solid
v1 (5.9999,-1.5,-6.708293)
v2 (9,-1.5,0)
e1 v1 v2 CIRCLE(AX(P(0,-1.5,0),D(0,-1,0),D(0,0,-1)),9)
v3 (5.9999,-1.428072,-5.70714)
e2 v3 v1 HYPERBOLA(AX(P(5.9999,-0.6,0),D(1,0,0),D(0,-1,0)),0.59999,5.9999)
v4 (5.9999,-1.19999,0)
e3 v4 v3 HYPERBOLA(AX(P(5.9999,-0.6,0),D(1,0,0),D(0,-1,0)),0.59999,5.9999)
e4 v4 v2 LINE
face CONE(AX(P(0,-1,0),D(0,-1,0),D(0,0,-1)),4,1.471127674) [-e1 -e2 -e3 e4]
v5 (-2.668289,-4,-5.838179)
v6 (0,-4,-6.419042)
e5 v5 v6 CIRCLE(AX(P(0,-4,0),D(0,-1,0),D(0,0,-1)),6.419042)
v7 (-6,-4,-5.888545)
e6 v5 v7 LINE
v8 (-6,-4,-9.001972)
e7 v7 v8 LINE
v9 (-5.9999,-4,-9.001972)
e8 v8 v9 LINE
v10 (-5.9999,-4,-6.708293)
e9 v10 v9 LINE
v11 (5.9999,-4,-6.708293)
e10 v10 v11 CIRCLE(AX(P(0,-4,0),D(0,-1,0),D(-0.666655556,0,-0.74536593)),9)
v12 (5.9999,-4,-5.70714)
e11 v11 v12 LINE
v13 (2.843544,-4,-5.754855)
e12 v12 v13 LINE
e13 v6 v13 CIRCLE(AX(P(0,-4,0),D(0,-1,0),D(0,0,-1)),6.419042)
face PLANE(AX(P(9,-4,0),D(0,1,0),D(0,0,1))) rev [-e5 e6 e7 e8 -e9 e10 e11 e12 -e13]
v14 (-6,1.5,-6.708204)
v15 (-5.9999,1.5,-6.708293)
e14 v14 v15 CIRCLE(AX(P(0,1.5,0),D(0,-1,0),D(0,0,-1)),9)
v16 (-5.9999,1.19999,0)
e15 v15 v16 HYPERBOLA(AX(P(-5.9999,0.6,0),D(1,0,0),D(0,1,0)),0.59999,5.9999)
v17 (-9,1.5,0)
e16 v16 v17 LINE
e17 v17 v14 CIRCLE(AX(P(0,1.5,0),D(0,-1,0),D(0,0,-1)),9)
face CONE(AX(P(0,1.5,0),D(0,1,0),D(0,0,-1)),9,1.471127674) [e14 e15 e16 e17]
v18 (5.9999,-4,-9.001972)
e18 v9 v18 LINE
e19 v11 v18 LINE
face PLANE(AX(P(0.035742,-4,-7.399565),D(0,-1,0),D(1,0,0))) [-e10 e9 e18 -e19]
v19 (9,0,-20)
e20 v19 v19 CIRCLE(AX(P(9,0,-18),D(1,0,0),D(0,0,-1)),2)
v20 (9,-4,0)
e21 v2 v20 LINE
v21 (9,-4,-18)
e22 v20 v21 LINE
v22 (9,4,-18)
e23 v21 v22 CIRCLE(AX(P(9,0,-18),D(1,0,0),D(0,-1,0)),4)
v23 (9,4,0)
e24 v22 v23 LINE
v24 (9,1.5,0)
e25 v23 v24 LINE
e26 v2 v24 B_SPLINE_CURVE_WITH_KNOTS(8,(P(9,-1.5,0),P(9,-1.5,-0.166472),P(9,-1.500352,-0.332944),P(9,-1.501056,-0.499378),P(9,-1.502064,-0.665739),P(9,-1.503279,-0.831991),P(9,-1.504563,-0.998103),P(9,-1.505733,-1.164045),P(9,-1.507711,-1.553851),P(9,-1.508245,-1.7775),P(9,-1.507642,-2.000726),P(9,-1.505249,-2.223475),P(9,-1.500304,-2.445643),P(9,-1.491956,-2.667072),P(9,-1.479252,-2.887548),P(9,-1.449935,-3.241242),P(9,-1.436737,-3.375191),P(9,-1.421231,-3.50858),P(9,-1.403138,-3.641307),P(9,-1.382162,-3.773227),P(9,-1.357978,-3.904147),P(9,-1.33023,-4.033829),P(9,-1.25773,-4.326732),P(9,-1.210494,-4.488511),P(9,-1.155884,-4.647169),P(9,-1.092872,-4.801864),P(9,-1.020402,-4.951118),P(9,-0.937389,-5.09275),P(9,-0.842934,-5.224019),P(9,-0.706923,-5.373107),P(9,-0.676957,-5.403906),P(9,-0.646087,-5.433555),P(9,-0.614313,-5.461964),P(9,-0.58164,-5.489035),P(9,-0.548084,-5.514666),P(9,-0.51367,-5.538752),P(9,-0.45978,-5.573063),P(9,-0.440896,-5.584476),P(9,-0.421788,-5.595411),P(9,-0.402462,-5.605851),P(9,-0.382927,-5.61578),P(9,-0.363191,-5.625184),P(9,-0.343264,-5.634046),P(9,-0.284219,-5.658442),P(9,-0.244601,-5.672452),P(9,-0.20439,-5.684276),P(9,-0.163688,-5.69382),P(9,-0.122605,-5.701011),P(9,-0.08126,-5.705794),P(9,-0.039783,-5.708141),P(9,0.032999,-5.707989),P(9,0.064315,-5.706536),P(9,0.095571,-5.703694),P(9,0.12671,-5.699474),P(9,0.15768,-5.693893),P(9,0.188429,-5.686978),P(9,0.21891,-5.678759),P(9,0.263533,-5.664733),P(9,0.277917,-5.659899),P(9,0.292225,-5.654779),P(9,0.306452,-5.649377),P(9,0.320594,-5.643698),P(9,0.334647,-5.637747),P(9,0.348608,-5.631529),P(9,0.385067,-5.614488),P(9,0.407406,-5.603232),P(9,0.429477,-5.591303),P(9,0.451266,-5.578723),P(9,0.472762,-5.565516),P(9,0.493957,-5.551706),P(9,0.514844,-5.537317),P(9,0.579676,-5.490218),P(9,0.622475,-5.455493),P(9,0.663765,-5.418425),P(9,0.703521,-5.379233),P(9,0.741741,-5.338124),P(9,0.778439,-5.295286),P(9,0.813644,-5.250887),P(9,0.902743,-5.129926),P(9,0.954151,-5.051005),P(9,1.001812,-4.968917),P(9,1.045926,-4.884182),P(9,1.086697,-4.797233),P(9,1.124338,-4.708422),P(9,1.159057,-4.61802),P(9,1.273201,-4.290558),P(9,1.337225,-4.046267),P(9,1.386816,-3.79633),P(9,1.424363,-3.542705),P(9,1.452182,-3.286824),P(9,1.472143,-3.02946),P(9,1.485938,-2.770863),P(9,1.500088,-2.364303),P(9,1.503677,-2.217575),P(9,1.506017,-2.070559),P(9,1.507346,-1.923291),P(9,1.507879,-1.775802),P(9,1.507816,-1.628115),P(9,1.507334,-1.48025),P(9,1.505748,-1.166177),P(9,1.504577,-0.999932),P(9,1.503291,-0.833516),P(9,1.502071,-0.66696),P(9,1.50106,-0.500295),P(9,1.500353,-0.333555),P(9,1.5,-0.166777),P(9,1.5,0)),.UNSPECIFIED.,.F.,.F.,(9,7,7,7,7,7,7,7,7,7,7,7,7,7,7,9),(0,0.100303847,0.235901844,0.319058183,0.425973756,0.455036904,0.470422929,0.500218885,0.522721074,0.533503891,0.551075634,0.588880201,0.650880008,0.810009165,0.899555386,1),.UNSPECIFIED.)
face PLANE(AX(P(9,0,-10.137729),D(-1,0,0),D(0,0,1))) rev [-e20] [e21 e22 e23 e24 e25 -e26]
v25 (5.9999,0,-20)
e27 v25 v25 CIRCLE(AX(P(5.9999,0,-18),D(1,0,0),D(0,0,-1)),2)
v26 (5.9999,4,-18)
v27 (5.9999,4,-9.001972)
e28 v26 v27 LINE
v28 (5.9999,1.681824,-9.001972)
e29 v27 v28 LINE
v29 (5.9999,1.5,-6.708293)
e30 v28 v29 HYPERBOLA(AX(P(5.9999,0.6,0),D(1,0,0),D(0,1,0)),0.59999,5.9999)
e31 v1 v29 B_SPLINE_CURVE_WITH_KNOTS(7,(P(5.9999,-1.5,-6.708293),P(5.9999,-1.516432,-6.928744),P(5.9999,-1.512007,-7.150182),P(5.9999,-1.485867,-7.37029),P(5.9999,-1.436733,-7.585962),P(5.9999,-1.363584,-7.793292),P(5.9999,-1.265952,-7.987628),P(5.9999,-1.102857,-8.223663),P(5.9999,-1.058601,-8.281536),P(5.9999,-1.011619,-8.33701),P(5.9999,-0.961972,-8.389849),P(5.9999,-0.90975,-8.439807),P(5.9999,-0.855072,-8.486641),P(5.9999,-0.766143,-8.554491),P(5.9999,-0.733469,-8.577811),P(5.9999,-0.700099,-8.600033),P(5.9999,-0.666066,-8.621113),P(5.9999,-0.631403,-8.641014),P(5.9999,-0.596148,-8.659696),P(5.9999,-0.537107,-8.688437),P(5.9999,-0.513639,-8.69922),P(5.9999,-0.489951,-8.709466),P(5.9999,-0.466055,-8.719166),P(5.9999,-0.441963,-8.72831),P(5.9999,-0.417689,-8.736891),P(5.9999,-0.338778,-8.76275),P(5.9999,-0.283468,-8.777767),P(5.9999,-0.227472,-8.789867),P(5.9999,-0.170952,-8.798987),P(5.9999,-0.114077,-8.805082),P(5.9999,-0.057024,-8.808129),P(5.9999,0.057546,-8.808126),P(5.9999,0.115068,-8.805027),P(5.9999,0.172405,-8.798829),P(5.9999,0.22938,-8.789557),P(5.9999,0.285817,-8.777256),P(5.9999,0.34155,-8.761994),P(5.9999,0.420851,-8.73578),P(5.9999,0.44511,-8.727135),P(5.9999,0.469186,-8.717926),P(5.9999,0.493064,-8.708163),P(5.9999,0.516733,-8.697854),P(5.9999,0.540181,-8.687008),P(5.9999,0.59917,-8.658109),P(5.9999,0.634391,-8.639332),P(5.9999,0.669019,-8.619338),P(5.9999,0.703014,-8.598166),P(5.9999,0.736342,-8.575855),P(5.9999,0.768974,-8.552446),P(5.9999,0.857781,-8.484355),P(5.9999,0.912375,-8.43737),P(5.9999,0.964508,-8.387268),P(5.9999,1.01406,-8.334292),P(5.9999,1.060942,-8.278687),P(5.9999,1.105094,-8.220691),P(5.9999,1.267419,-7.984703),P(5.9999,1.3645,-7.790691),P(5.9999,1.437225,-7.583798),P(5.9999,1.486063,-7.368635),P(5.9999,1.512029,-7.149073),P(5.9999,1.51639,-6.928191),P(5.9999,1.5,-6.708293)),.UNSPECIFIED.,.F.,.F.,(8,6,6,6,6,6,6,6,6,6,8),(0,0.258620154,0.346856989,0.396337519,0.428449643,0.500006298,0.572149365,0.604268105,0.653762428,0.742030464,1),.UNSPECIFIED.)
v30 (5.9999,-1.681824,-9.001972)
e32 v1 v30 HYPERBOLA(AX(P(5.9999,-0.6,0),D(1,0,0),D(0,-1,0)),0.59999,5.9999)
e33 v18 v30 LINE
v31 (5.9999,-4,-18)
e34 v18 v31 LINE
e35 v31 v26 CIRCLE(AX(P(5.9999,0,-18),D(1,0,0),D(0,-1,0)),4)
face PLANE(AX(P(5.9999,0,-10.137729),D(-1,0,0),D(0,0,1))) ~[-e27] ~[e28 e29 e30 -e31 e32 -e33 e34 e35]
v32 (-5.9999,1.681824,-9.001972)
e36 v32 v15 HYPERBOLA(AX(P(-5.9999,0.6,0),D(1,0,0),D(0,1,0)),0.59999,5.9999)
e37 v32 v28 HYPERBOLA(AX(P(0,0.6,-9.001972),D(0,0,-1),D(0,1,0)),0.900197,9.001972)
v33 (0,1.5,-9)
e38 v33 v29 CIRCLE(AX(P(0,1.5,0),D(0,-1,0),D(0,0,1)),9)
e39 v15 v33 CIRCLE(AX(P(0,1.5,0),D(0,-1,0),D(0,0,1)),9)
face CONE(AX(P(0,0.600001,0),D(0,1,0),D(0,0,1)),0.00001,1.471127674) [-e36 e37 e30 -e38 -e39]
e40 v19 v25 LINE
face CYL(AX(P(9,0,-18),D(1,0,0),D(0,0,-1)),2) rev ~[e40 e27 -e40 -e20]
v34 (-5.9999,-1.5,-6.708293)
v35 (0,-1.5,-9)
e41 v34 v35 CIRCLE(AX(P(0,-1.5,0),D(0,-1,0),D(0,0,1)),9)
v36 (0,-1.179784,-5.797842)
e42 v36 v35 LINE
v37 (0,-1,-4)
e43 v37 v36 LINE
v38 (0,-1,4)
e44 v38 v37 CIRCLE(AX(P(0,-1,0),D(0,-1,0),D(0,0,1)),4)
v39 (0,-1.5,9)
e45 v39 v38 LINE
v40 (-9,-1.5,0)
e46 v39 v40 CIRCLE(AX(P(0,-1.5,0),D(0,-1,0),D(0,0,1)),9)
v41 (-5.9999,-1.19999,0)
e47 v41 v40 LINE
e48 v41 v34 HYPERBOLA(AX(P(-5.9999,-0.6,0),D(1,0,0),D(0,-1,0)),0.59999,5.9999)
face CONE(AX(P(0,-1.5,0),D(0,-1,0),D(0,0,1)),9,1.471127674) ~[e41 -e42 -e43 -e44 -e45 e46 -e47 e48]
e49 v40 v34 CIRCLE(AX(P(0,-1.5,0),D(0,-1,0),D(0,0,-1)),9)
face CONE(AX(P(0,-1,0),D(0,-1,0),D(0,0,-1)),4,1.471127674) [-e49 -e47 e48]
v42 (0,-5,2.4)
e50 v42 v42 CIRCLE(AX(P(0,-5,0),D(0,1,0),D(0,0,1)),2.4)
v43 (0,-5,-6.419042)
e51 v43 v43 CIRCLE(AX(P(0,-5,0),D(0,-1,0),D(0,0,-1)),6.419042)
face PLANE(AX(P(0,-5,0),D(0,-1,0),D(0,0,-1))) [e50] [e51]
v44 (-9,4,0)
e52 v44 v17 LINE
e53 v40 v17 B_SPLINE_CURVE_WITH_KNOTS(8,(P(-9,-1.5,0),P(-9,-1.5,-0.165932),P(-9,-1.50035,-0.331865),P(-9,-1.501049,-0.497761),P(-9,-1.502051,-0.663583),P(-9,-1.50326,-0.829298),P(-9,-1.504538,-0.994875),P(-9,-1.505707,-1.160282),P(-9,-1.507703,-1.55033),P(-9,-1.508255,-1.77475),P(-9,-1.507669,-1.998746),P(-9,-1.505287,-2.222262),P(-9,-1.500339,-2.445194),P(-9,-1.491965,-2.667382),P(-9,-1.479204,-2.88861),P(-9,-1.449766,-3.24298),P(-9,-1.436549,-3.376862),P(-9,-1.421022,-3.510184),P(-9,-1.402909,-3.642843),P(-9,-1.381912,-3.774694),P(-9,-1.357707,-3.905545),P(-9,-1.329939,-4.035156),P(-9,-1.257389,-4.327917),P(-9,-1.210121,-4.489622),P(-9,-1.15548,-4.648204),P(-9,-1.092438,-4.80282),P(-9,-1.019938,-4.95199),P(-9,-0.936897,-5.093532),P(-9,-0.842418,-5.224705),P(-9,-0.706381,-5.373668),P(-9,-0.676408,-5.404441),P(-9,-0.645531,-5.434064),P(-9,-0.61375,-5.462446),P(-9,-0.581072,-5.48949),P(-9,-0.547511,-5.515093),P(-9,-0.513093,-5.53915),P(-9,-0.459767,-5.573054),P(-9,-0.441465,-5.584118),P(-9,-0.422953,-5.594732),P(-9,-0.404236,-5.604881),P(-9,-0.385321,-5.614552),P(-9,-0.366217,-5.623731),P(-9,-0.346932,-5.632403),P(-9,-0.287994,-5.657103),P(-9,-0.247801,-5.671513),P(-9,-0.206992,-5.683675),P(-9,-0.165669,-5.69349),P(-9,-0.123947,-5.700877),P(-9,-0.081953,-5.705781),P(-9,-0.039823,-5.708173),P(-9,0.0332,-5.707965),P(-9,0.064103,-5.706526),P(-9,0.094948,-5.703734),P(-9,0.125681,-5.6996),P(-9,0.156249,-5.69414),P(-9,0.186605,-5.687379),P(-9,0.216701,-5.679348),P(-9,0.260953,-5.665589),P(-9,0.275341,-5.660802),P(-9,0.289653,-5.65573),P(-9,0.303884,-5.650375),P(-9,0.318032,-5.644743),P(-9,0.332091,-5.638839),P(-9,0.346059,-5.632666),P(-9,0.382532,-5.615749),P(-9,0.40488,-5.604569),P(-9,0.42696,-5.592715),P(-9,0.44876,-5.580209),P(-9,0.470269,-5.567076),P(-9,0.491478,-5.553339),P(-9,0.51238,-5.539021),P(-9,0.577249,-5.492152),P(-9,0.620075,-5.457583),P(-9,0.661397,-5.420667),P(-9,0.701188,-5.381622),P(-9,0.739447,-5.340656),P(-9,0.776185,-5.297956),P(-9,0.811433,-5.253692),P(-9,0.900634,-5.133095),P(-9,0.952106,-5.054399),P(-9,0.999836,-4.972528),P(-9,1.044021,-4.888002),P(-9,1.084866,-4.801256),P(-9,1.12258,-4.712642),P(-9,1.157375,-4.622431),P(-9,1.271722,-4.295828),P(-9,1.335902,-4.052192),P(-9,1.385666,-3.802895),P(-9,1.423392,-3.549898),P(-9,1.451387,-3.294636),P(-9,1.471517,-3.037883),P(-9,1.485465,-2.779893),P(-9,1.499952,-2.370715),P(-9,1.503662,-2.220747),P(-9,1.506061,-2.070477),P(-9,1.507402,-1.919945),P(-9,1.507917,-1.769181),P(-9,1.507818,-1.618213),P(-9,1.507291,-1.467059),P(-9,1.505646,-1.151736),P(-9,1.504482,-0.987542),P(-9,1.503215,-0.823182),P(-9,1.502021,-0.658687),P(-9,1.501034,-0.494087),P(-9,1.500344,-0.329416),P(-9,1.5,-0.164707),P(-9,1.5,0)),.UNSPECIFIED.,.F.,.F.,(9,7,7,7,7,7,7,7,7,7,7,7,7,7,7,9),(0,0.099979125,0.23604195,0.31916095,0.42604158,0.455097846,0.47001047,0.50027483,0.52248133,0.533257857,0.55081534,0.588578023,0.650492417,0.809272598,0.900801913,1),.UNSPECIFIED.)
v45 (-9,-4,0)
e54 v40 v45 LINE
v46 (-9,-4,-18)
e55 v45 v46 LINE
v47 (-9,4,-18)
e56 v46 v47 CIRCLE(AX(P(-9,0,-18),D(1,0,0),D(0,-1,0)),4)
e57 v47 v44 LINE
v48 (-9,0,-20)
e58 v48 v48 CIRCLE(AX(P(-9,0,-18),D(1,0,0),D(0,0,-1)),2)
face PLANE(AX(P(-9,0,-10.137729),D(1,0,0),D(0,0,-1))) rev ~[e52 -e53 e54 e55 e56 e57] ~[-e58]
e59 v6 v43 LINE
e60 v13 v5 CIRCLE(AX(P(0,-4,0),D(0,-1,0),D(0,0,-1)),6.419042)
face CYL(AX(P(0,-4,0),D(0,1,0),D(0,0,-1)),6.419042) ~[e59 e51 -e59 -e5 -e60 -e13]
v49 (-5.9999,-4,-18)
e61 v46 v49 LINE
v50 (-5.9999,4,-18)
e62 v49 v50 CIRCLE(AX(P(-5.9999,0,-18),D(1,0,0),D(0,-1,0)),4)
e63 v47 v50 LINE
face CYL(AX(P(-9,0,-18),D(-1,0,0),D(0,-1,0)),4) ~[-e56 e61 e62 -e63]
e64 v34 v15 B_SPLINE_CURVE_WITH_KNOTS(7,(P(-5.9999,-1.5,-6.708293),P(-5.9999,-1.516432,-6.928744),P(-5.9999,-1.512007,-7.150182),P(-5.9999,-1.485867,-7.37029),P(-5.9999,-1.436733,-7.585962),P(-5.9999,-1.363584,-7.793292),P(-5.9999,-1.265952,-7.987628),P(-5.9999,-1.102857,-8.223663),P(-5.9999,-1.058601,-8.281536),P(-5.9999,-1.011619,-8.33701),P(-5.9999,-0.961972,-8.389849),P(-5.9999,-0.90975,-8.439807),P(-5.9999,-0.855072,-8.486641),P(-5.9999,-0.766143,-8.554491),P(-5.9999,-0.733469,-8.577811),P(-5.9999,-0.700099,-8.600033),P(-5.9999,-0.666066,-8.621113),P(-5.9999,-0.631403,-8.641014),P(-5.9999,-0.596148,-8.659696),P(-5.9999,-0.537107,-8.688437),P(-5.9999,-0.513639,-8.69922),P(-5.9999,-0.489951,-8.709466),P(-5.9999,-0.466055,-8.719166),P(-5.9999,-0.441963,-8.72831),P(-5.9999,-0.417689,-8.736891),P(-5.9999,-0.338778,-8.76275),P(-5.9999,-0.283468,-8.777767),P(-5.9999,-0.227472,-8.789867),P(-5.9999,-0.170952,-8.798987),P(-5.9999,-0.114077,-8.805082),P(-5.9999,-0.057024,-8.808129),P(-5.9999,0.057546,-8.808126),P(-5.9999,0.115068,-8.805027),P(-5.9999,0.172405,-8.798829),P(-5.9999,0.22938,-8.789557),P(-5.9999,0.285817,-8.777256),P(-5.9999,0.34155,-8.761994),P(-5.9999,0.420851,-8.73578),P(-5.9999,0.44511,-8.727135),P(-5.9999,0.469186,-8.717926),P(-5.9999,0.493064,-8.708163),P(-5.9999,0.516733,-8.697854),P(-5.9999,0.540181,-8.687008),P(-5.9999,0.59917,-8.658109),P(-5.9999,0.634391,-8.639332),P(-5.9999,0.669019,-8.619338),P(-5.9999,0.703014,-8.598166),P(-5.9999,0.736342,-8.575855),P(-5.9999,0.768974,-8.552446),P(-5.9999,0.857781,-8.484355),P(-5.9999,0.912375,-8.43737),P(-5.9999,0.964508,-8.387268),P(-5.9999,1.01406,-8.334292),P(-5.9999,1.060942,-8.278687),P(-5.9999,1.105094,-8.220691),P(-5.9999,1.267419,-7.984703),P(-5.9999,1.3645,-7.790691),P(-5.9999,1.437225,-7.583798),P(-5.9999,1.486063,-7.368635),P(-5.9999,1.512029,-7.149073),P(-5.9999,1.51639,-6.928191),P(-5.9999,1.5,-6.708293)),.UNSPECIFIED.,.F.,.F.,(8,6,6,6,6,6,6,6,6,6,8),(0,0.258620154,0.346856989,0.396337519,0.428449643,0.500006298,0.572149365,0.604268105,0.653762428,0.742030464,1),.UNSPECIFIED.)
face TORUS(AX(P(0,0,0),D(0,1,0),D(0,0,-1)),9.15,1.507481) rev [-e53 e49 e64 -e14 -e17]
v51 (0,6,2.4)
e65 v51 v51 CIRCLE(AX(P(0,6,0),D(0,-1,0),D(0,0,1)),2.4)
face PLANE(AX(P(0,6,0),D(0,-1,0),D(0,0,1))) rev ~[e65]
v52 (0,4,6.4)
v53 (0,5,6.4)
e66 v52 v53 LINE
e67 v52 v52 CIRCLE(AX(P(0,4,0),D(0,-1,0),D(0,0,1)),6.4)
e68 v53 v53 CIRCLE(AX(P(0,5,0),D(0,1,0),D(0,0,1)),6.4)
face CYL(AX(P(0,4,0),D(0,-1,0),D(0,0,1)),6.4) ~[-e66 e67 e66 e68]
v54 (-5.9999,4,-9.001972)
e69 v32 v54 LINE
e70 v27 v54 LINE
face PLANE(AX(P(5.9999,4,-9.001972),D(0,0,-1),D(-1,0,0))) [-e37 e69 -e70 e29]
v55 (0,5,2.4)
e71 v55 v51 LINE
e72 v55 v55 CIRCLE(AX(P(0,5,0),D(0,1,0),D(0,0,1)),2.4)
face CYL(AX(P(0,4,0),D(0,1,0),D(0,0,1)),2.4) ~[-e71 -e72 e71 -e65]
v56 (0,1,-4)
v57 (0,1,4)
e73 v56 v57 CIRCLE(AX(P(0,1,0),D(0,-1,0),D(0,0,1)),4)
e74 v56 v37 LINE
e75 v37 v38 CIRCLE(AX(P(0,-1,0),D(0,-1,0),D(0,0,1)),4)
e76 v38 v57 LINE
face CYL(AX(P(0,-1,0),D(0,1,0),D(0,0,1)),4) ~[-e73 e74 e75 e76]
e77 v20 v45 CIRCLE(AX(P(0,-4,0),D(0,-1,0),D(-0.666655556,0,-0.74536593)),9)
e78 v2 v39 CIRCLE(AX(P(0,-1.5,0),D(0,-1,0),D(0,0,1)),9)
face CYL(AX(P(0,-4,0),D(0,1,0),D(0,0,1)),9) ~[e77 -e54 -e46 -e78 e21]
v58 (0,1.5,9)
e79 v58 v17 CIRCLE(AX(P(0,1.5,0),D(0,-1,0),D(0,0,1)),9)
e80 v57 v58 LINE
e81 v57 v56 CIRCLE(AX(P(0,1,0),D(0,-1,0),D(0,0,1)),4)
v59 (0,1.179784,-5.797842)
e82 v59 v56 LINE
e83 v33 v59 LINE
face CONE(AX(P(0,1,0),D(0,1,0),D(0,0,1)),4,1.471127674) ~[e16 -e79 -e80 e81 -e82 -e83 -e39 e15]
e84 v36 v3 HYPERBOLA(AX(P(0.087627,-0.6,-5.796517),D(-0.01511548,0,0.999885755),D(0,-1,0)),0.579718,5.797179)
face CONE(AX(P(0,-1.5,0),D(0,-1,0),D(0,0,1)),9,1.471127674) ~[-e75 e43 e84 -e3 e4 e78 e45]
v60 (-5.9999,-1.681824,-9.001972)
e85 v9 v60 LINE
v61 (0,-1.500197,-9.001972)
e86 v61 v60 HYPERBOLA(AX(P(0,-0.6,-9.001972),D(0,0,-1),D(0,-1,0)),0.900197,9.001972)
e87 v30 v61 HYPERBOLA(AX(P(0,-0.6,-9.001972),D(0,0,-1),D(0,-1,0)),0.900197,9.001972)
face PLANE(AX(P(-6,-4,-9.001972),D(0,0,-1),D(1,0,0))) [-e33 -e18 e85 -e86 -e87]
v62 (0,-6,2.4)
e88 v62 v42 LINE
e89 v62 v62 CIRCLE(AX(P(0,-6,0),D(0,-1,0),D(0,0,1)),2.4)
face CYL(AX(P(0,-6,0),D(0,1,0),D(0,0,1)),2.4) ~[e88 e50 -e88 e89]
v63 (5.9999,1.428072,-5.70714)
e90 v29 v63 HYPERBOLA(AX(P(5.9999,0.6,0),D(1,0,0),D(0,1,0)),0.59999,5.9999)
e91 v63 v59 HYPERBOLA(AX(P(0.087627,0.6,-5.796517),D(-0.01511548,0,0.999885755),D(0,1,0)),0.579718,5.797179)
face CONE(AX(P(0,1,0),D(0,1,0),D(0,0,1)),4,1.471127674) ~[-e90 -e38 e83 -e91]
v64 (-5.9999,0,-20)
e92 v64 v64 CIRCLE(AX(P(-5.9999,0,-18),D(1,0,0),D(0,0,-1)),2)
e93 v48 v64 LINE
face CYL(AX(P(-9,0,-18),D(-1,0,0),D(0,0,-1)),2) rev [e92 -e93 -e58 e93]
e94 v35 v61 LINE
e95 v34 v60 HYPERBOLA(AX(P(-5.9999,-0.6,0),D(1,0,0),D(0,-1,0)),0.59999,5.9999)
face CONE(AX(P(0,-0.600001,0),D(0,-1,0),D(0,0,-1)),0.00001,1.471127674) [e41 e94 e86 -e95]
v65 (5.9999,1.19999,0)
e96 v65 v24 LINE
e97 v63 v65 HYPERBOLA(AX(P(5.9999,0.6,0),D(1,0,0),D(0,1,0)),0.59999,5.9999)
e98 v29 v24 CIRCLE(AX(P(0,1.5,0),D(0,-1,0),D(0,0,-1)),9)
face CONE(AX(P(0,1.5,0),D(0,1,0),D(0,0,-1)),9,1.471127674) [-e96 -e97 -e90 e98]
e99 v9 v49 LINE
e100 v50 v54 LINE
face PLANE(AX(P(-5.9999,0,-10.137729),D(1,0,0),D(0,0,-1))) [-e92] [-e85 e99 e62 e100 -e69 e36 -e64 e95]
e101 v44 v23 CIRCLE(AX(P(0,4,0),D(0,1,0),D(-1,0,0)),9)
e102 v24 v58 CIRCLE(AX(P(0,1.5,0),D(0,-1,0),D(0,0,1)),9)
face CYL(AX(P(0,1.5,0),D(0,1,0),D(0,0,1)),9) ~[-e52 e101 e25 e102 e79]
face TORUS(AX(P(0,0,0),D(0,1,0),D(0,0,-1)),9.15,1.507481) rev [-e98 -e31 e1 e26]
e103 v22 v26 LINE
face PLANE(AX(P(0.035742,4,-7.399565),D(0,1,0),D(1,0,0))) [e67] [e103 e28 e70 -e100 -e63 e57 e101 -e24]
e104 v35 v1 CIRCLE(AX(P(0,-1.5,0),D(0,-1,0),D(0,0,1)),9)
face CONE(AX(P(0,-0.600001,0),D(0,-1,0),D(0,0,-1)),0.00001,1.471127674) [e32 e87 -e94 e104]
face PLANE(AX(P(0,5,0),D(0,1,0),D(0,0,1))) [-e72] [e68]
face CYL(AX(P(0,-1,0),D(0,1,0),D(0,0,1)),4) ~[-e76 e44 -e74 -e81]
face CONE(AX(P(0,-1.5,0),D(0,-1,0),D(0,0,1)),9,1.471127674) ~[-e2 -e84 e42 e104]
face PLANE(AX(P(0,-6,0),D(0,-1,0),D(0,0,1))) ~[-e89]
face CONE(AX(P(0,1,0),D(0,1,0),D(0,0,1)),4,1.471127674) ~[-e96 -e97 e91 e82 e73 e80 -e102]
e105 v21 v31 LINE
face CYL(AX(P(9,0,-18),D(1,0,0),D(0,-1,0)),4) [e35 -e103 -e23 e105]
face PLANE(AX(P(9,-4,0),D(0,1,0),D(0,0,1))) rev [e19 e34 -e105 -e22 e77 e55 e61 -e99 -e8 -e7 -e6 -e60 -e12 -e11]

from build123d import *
from build123d.topology import SkipClean

# Parameters (mm, degrees)
SKETCH4_R            = 6.4
SKETCH4_R_2          = 2
BOSS_EXTRUDE3_DEPTH  = 1
BOSS_EXTRUDE6_START  = -3
SKETCH5_R            = 2
BOSS_EXTRUDE6_DEPTH  = 3.0001
BOSS_EXTRUDE22_REACH = 27.788
SKETCH9_R            = 6.419042014
BOSS_EXTRUDE9_DEPTH  = 1
BOSS_EXTRUDE23_REACH = 27.788


with BuildPart() as part:
    # Sketch3 → Revolve1 (revolve)
    with BuildSketch(Plane(origin=(0, 0, 0), x_dir=(0, 0, -1), z_dir=(1, 0, 0))):
        Polygon((-9, -1.5), (-4, -1), (-4, 1), (-9, 1.5), (-9, 4), (-2.4, 4), (-2.4, 6), (0, 6), (0, -6), (-2.4, -6), (-2.4, -4), (-9, -4), align=None)
    revolve(axis=Axis((0, 6, 0), (0, -1, 0)))



with BuildPart() as body_2:
    # Sketch4 → Boss-Extrude3 (new body)
    with BuildSketch(Plane(origin=(0, 4, 0), x_dir=(1, 0, 0), z_dir=(0, 1, 0))):
        with Locations(Location((0, 0, 0), (0, 0, 270))):
            Circle(SKETCH4_R)
        with Locations(Location((0, 0, 0), (0, 0, 270))):
            Circle(SKETCH4_R_2, mode=Mode.SUBTRACT)
    extrude(amount=BOSS_EXTRUDE3_DEPTH)


with BuildPart() as part_1:
    add(part.part)

    add(body_2.part)  # Boss-Extrude6 merges body 2
    # Sketch5 → Boss-Extrude6 (add)
    with BuildSketch(Plane(origin=(-6, 0, 3.854187267), x_dir=(0, 0, -1), z_dir=(1, 0, 0)).offset(BOSS_EXTRUDE6_START)):
        with BuildLine():
            ThreePointArc((21.854187267, -4), (25.854187267, 0), (21.854187267, 4))
            Line((21.854187267, 4), (3.854187267, 4))
            Line((3.854187267, 4), (3.854187267, -4))
            Line((3.854187267, -4), (21.854187267, -4))
        make_face()
        with Locations((21.854187267, 0)):
            Circle(SKETCH5_R, mode=Mode.SUBTRACT)
    boss_extrude6 = extrude(amount=BOSS_EXTRUDE6_DEPTH)

    # Mirror1: Boss-Extrude6 across plane
    add(boss_extrude6.mirror(Plane(origin=(0, 0, 0), x_dir=(0, 0, 1), z_dir=(1, 0, 0))))

    # Boss-Extrude22: up to this cone (the profile starts inside it)
    with SkipClean():  # the faces are left unmerged after this step: merging them gives an invalid solid
        boss_extrude22_end = Plane(origin=(0, -4, 0), z_dir=(0, -1, 0)).offset(-3.399999) * Cone(1e-05, 656.88, 65.687999, align=(Align.CENTER, Align.CENTER, Align.MIN), mode=Mode.PRIVATE)
        # Sketch18 → Boss-Extrude22 (add, up to the surface)
        with BuildSketch(Plane.XZ.offset(4), mode=Mode.PRIVATE) as boss_extrude22_sk1:
            Polygon((-6, -9.001972309), (5.9999, -9.001972309), (5.9999, -5.707140078), (-6, -5.888545051), align=None)
        boss_extrude22_tool1 = extrude(boss_extrude22_sk1.sketch, amount=-BOSS_EXTRUDE22_REACH, mode=Mode.PRIVATE) & boss_extrude22_end
        add(boss_extrude22_tool1.solids().sort_by_distance((0.056566, -4, -7.39948))[0])

    # Sketch9 → Boss-Extrude9 (add)
    with SkipClean():  # the faces are left unmerged after this step: merging them gives an invalid solid
        with BuildSketch(Plane(origin=(0, -4, 0), x_dir=(-1, 0, 0), z_dir=(0, -1, 0))):
            with Locations(Location((0, 0, 0), (0, 0, 90))):
                Circle(SKETCH9_R)
        extrude(amount=BOSS_EXTRUDE9_DEPTH)

    # Sketch11 → Cut-Revolve3 (revolve, cut)
    with SkipClean():  # the faces are left unmerged after this step: merging them gives an invalid solid
        with BuildSketch(Plane(origin=(0, 0, 0), x_dir=(0, 0, -1), z_dir=(1, 0, 0)), mode=Mode.PRIVATE) as cut_revolve3_sk:
            with BuildLine():
                ThreePointArc((-9, -1.5), (-10.657481343, 0), (-9, 1.5))
                Line((-9, 1.5), (-4, 1))
                Line((-4, 1), (-4, -1))
                Line((-4, -1), (-9, -1.5))
            make_face()
        revolve(cut_revolve3_sk.sketch.rotate(Axis((0, 6, 0), (0, -1, 0)), 180), axis=Axis((0, 6, 0), (0, -1, 0)), mode=Mode.SUBTRACT)

    # Boss-Extrude23: up to this cone (the profile starts inside it)
    boss_extrude23_end = Plane(origin=(0, 4, 0), z_dir=(0, 1, 0)).offset(-3.399999) * Cone(1e-05, 656.88, 65.687999, align=(Align.CENTER, Align.CENTER, Align.MIN), mode=Mode.PRIVATE)
    # Sketch22 → Boss-Extrude23 (add, up to the surface)
    with BuildSketch(Plane(origin=(0, 4, 0), x_dir=(1, 0, 0), z_dir=(0, 1, 0)), mode=Mode.PRIVATE) as boss_extrude23_sk1:
        Polygon((5.9999, 9.001972309), (-6, 9.001972309), (-6, 5.888545051), (5.9999, 5.707140078), align=None)
    boss_extrude23_tool1 = extrude(boss_extrude23_sk1.sketch, amount=-BOSS_EXTRUDE23_REACH, mode=Mode.PRIVATE) & boss_extrude23_end
    add(boss_extrude23_tool1.solids().sort_by_distance((0.056566, 4, -7.39948))[0])


solid = part_1.part
